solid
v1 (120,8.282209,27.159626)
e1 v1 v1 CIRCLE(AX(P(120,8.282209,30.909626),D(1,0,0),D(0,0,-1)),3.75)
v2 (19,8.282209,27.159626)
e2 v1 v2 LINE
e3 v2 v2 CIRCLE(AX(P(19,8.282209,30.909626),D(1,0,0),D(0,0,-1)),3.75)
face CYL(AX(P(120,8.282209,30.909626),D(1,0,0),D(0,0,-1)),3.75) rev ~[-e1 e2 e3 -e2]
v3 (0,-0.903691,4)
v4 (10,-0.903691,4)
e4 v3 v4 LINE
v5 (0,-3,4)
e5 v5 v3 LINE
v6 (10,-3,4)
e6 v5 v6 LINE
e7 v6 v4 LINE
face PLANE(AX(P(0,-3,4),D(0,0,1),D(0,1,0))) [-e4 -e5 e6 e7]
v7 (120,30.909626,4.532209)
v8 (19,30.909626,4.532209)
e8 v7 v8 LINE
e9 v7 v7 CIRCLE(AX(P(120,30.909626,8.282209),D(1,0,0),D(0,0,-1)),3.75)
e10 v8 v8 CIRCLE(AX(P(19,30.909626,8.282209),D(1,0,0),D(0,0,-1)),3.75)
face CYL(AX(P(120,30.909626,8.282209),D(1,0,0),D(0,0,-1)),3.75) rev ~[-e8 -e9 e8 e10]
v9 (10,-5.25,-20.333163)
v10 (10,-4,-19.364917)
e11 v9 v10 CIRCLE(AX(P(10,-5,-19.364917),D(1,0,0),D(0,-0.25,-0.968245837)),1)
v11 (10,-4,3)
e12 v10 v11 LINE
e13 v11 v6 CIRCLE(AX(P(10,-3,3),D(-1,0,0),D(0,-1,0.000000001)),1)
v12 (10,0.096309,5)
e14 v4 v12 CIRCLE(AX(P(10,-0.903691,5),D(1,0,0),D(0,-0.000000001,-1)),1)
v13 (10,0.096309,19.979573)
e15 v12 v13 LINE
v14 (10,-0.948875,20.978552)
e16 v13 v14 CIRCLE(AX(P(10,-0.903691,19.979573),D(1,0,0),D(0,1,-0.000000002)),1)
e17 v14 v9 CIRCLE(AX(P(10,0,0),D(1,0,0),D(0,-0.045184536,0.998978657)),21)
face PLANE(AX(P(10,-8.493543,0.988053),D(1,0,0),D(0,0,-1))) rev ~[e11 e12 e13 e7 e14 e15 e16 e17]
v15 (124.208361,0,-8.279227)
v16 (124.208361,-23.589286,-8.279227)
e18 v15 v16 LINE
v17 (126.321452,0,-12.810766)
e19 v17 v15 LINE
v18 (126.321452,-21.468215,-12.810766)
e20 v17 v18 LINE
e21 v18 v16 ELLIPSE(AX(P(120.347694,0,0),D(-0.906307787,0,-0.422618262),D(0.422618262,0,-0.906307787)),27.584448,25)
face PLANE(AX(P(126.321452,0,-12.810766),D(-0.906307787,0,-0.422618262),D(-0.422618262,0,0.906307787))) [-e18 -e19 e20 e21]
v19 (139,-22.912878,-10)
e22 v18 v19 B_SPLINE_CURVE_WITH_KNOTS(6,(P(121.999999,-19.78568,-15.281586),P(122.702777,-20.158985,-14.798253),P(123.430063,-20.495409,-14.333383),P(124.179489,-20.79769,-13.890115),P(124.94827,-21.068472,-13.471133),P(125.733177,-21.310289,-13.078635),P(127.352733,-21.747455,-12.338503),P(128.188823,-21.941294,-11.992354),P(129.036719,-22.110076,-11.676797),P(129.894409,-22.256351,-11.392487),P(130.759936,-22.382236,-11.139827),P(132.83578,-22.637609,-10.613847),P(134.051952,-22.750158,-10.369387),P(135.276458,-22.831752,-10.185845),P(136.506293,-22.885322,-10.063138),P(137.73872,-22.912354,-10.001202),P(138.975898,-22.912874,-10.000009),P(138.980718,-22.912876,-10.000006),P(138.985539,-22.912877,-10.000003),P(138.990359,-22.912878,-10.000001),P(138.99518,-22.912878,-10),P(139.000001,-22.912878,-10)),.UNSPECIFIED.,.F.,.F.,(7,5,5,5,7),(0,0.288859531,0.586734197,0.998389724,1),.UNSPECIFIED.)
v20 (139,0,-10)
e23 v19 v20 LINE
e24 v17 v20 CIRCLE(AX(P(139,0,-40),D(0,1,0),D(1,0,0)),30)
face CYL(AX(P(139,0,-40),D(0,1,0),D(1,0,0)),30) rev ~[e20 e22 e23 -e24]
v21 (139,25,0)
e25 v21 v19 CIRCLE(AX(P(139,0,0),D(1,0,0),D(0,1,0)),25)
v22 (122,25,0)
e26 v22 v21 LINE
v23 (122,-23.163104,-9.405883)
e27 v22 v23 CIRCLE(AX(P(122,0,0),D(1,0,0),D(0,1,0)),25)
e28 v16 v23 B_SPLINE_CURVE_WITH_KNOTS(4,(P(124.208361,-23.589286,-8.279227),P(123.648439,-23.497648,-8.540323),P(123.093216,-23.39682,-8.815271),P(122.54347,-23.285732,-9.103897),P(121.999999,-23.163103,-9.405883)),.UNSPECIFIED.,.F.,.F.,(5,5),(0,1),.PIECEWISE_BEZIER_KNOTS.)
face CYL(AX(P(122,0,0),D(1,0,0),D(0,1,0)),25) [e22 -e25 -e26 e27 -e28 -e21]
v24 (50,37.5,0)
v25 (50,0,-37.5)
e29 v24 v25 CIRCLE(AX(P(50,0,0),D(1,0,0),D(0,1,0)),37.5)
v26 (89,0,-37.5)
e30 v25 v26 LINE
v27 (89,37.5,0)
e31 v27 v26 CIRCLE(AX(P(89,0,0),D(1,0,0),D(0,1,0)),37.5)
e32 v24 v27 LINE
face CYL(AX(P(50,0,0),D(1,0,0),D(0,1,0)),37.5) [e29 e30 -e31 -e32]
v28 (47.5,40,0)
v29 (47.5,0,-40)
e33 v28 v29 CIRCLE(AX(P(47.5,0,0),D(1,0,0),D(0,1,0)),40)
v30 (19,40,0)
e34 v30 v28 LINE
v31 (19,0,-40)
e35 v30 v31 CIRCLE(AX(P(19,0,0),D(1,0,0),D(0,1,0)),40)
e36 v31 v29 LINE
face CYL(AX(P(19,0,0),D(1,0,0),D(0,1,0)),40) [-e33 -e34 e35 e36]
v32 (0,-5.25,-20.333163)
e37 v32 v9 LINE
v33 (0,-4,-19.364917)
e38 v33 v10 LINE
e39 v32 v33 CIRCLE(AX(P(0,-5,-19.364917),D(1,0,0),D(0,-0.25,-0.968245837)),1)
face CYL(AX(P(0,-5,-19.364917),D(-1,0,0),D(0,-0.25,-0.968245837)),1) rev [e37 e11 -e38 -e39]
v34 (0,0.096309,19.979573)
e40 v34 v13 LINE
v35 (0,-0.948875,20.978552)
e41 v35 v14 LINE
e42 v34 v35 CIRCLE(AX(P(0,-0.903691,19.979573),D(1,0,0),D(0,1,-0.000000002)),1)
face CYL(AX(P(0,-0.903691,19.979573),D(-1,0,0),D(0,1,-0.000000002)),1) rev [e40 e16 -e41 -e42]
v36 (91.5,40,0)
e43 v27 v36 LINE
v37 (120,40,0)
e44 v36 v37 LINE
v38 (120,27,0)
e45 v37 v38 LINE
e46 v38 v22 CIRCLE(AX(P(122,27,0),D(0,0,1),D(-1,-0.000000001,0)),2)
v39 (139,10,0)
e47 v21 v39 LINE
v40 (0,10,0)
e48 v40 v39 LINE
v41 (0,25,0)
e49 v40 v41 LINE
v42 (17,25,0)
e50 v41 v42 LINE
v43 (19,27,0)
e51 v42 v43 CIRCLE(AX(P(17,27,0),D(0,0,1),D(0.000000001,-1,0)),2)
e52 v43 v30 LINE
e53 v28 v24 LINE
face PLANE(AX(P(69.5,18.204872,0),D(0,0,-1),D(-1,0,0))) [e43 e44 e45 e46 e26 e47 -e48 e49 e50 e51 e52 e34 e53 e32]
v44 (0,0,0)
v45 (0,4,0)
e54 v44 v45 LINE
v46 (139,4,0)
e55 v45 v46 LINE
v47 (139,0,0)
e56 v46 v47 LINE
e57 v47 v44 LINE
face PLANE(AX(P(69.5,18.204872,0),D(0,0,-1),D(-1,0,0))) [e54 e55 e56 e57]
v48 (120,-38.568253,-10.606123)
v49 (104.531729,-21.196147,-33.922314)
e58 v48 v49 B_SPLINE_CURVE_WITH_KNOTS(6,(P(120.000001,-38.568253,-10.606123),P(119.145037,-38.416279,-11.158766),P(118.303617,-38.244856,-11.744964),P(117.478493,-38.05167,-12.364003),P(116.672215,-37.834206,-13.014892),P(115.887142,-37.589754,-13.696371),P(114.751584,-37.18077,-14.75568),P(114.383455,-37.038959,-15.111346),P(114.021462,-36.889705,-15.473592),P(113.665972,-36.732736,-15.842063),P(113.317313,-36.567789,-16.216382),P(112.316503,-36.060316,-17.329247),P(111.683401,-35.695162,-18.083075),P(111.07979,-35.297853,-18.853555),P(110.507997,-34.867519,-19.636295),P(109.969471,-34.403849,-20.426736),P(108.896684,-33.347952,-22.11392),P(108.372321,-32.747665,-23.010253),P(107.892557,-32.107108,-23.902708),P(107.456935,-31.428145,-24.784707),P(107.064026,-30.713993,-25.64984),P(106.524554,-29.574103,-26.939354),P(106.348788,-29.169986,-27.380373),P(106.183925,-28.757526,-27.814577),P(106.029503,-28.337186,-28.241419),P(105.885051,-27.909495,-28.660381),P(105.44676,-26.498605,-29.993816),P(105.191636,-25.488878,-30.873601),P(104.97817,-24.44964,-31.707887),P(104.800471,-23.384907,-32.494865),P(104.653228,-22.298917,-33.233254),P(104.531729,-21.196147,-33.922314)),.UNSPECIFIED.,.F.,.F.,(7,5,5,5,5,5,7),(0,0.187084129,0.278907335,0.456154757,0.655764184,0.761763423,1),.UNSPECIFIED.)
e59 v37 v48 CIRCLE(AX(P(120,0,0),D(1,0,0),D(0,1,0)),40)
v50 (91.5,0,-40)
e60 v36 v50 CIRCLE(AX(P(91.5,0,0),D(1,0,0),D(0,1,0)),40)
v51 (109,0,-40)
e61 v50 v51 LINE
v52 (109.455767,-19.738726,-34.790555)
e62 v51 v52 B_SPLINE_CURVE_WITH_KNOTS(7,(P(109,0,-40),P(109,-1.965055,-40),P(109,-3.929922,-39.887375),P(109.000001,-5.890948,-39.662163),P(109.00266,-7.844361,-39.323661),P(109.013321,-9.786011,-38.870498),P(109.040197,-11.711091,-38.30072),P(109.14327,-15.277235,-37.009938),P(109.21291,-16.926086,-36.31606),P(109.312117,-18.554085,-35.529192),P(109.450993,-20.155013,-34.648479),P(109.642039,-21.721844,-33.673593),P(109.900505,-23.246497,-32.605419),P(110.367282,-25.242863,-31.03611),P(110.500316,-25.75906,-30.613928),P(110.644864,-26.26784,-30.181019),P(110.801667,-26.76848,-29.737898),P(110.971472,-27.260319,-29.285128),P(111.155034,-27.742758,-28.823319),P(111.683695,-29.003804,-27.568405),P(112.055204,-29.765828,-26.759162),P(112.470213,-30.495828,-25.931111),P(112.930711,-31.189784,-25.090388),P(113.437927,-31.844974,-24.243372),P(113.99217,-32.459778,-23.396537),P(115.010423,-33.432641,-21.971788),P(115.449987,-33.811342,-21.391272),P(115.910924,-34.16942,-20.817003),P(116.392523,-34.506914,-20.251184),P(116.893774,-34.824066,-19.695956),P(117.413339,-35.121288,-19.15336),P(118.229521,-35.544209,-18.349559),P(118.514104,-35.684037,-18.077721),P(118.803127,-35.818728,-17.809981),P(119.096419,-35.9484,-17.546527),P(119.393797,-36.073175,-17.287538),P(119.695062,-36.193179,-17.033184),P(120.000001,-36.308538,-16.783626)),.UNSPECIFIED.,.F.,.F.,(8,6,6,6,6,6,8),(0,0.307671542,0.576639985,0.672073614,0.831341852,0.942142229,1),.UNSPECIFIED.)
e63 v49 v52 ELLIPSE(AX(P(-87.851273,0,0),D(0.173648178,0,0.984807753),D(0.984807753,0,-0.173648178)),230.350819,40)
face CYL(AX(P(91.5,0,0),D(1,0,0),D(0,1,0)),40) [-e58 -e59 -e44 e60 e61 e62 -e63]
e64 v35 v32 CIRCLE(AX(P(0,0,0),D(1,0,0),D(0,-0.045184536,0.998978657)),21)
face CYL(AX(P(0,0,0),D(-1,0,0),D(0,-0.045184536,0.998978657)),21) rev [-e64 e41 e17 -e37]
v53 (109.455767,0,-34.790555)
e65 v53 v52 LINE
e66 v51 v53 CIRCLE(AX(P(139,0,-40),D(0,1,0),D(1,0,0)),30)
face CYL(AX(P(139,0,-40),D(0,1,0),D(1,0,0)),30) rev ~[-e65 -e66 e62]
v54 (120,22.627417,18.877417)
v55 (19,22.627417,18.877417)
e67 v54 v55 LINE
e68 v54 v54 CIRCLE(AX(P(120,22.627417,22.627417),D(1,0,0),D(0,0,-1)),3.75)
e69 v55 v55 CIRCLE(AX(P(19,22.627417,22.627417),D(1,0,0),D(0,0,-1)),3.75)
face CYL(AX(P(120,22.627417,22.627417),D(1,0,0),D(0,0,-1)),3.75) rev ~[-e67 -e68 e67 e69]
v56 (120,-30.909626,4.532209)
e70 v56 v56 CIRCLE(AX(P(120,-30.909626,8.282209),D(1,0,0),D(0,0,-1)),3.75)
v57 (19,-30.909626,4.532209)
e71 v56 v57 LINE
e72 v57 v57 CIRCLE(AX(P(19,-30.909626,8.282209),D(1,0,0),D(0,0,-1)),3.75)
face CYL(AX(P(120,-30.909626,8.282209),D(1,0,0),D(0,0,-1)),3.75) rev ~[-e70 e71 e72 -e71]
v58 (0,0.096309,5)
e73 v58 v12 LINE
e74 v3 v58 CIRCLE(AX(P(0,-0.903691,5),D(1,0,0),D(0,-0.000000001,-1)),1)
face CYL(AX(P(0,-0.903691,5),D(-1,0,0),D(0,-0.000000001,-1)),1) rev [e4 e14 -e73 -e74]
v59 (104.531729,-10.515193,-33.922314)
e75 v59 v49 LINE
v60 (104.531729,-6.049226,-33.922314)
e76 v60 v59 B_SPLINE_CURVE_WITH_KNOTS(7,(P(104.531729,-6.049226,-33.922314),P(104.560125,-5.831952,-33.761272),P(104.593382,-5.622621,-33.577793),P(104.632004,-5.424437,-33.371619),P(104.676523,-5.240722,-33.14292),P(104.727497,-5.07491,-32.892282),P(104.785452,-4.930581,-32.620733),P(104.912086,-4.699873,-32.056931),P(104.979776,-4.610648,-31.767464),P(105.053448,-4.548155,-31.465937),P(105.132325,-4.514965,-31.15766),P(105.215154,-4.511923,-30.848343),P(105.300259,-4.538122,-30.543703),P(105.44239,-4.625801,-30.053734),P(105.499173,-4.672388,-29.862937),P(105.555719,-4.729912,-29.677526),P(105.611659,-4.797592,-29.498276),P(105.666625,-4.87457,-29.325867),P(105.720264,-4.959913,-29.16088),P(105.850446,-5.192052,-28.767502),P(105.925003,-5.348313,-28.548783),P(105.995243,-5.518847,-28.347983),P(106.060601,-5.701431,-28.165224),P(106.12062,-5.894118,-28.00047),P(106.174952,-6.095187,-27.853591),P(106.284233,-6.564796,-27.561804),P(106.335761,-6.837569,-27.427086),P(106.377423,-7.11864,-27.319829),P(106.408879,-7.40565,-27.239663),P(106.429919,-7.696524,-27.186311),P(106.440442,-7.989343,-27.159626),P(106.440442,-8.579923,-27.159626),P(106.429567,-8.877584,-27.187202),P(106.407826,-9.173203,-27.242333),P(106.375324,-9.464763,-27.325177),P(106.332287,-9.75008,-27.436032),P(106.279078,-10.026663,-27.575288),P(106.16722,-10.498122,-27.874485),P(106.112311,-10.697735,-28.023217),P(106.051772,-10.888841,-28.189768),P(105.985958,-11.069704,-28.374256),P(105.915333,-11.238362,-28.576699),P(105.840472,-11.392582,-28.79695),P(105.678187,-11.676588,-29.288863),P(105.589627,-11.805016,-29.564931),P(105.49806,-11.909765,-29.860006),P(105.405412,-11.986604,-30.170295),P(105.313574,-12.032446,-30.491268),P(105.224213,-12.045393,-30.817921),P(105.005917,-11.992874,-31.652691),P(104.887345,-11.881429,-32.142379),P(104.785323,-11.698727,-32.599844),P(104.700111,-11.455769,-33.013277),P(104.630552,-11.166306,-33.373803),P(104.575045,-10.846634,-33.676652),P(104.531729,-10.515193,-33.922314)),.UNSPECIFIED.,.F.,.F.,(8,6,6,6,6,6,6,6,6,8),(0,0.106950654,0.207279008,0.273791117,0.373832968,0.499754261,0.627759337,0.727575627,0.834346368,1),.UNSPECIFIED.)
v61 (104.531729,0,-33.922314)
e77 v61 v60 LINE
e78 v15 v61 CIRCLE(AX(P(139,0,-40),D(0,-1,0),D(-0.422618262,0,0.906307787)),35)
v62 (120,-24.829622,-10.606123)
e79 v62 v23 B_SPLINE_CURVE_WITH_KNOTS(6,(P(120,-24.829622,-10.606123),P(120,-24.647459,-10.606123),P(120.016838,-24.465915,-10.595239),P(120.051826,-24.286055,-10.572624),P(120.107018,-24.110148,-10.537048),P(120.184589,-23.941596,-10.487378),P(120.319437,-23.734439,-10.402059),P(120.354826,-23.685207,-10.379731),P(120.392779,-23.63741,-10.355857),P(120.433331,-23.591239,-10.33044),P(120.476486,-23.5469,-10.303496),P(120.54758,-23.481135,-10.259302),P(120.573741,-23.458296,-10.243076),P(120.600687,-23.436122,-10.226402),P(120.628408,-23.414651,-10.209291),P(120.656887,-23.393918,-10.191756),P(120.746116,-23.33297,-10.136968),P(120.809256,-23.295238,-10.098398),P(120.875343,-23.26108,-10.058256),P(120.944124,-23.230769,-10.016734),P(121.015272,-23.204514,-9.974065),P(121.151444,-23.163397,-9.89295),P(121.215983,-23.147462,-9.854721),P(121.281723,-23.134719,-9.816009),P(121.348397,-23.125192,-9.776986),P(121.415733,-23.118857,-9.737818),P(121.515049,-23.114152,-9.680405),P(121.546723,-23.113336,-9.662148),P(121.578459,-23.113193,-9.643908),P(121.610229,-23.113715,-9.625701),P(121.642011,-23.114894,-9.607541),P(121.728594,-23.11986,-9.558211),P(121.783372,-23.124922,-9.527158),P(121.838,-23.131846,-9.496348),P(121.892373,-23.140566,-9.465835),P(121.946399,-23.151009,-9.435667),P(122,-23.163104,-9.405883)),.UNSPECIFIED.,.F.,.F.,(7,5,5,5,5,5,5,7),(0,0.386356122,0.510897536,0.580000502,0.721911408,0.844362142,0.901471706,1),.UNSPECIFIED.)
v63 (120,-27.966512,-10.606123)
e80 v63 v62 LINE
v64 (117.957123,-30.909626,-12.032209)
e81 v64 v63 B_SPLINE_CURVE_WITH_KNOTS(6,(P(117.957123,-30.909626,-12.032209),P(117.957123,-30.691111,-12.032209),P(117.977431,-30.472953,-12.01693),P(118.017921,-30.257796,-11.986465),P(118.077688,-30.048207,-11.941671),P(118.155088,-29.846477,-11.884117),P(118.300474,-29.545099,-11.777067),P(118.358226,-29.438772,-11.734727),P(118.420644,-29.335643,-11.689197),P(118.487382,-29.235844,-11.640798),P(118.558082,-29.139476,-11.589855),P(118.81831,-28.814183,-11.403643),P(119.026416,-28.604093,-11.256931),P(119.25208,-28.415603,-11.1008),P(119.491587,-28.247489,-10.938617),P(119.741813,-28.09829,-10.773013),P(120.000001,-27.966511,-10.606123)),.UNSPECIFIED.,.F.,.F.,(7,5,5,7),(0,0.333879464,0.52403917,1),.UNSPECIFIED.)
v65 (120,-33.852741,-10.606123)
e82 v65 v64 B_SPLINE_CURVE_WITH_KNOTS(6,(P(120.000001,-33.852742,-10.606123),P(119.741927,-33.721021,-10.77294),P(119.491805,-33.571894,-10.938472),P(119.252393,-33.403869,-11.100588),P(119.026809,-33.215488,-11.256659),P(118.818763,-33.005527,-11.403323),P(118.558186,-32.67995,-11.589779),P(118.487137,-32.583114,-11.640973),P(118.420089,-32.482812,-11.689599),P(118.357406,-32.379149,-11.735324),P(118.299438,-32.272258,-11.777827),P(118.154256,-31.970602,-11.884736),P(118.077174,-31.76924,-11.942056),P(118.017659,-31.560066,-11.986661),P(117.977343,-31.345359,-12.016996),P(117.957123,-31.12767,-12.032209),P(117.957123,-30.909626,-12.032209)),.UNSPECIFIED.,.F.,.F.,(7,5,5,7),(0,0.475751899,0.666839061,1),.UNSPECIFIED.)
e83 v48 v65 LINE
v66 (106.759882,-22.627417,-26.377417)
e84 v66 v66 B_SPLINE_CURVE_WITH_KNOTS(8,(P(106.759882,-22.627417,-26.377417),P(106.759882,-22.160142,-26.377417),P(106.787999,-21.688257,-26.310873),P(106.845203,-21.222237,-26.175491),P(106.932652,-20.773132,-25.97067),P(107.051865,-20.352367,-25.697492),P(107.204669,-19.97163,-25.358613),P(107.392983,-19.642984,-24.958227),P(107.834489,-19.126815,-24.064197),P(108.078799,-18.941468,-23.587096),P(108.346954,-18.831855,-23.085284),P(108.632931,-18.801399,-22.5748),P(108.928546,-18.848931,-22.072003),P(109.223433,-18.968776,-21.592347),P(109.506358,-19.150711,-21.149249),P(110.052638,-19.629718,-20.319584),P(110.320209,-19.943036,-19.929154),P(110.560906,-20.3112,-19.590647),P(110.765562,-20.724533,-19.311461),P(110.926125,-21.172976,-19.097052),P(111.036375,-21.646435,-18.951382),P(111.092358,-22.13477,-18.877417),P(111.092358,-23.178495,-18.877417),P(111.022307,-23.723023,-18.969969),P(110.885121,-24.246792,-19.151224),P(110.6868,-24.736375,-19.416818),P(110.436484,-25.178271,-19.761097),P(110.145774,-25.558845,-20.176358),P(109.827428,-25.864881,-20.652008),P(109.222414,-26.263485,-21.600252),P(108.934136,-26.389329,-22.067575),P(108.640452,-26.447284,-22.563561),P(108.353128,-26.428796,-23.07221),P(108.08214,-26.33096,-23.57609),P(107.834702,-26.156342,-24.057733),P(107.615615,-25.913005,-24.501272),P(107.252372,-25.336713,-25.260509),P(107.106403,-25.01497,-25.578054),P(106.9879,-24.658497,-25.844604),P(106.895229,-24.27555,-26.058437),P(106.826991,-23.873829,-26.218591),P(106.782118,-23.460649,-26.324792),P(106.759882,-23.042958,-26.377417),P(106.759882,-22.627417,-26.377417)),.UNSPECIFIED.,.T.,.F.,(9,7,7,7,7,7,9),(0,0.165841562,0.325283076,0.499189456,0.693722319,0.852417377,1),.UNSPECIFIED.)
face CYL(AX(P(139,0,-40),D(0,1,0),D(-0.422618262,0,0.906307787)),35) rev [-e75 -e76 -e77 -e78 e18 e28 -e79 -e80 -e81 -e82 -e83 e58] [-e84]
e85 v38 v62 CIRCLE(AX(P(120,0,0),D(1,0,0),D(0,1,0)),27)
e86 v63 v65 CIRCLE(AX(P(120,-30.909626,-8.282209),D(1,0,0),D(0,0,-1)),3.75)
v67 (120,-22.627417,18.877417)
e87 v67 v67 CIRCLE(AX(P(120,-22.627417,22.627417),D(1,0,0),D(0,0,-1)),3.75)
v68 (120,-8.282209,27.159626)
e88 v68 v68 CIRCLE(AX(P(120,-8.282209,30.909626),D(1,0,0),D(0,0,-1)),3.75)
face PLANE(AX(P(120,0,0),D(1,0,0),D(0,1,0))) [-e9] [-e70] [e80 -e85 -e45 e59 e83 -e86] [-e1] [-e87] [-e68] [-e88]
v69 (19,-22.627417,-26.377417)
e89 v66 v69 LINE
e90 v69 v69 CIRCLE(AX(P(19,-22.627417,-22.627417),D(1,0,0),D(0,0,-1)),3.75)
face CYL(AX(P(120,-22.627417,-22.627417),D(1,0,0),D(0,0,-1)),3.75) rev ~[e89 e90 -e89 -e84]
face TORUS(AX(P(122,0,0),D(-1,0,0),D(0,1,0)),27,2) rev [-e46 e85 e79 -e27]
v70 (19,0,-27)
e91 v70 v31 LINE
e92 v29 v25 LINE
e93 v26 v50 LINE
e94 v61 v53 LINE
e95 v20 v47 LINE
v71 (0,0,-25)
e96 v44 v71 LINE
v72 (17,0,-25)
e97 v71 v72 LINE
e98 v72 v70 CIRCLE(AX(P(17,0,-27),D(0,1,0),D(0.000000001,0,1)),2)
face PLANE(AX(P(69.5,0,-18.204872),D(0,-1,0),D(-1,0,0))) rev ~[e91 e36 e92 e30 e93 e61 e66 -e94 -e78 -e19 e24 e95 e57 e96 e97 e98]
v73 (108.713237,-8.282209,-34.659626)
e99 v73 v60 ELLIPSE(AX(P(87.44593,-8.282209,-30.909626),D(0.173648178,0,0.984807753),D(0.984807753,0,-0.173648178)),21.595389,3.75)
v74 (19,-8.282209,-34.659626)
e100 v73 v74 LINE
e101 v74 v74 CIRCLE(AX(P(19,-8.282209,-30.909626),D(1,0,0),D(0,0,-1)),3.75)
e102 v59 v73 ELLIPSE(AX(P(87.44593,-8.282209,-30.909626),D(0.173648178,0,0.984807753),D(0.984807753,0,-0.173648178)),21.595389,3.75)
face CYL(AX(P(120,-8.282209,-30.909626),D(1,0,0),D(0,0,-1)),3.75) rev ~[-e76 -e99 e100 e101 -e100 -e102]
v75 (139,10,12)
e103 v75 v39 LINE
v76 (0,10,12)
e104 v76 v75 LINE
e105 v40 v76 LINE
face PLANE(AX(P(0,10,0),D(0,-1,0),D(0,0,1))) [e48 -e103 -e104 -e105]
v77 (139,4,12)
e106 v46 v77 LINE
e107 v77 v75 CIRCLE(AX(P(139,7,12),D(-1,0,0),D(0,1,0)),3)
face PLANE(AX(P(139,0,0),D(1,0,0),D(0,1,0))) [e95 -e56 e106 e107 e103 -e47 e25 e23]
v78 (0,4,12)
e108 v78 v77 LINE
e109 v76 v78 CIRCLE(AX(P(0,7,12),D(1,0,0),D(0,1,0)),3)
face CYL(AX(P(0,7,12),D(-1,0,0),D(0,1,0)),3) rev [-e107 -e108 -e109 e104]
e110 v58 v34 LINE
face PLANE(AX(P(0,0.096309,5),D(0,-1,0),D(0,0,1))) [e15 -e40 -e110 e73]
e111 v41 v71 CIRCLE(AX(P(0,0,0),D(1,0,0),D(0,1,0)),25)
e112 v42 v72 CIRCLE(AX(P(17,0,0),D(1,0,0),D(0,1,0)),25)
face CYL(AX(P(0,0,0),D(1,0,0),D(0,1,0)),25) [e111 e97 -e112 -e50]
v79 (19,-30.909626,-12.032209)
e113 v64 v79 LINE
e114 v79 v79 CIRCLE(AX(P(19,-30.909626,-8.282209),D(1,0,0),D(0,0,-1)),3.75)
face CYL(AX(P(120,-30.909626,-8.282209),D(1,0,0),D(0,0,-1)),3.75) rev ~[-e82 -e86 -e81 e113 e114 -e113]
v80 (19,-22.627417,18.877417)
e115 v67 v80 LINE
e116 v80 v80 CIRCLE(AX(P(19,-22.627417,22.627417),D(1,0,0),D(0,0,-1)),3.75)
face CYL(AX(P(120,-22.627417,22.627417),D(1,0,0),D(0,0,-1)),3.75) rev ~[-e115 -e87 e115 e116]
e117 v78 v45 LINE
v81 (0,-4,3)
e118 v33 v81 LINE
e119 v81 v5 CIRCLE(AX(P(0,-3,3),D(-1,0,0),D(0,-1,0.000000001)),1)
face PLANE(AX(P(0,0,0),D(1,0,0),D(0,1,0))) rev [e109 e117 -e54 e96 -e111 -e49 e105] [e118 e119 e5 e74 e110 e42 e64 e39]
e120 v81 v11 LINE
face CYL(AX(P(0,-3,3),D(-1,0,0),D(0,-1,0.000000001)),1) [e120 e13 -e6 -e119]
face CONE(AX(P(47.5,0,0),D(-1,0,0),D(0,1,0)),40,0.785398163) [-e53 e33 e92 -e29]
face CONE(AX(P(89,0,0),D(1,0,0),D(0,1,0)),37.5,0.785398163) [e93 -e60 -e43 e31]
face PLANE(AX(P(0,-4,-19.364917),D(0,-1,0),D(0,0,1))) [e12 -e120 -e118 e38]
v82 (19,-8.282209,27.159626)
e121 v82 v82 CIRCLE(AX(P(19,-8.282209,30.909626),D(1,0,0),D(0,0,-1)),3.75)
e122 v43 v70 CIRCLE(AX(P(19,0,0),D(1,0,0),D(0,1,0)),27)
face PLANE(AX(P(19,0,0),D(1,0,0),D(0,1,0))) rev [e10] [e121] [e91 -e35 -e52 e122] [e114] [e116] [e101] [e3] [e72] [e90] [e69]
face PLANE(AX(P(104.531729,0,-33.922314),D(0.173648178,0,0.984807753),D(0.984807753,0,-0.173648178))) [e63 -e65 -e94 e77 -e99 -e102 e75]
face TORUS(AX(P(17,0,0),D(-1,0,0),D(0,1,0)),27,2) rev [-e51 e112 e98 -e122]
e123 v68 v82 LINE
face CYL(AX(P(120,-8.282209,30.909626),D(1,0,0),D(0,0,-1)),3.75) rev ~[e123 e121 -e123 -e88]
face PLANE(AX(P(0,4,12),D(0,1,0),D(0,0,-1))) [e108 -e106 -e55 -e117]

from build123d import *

# Parameters (mm, degrees)
REVOLVE1_ANGLE     = 270
CUT_EXTRUDE1_DEPTH = 151.069983674
SKETCH3_R          = 3.75
CUT_EXTRUDE2_DEPTH = 133.664991614
SKETCH5_R          = 30
CUT_EXTRUDE3_DEPTH = 151.069983674
CUT_EXTRUDE4_DEPTH = 151.06998382
CUT_EXTRUDE5_DEPTH = 10


with BuildPart() as part:
    # Sketch1 → Revolve1 (revolve)
    with BuildSketch(Plane.XY):
        with BuildLine():
            Line((47.5, 40), (50, 37.5))
            Line((50, 37.5), (89, 37.5))
            Line((89, 37.5), (91.5, 40))
            Line((91.5, 40), (120, 40))
            Line((120, 40), (120, 27))
            ThreePointArc((120, 27), (120.585786438, 25.585786438), (122, 25))
            Line((122, 25), (139, 25))
            Line((139, 25), (139, 0))
            Line((139, 0), (0, 0))
            Line((0, 0), (0, 25))
            Line((0, 25), (17, 25))
            ThreePointArc((17, 25), (18.414213562, 25.585786438), (19, 27))
            Line((19, 27), (19, 40))
            Line((19, 40), (47.5, 40))
        make_face()
    revolve(axis=Axis((0, 0, 0), (1, 0, 0)), revolution_arc=REVOLVE1_ANGLE)

    # Sketch2 → Cut-Extrude1 (cut, through all)
    with BuildSketch(Plane.ZY):
        with BuildLine():
            Line((0, 10), (12, 10))
            ThreePointArc((12, 10), (15, 7), (12, 4))
            Line((12, 4), (0, 4))
            ThreePointArc((0, 4), (-3, 7), (0, 10))
        make_face()
    extrude(amount=-CUT_EXTRUDE1_DEPTH, mode=Mode.SUBTRACT)

    # Sketch3 → Cut-Extrude2 (cut, through all)
    with BuildSketch(Plane(origin=(120, 0, 0), x_dir=(0, 0, -1), z_dir=(1, 0, 0))):
        with Locations((-8.282209443, 30.909626441)):
            Circle(SKETCH3_R)
        with Locations((30.909626441, -8.282209443)):
            Circle(SKETCH3_R)
        with Locations((22.627416998, -22.627416998)):
            Circle(SKETCH3_R)
        with Locations((8.282209443, -30.909626441)):
            Circle(SKETCH3_R)
        with Locations((-8.282209443, -30.909626441)):
            Circle(SKETCH3_R)
        with Locations((-22.627416998, -22.627416998)):
            Circle(SKETCH3_R)
        with Locations((-30.909626441, -8.282209443)):
            Circle(SKETCH3_R)
        with Locations((-30.909626441, 8.282209443)):
            Circle(SKETCH3_R)
        with Locations((-22.627416998, 22.627416998)):
            Circle(SKETCH3_R)
    extrude(amount=-CUT_EXTRUDE2_DEPTH, mode=Mode.SUBTRACT)

    # Sketch5 → Cut-Extrude3 (cut, through all)
    with BuildSketch(Plane(origin=(0, 0, 0), x_dir=(1, 0, 0), z_dir=(0, 1, 0))):
        with Locations((139, 40)):
            Circle(SKETCH5_R)
    extrude(amount=-CUT_EXTRUDE3_DEPTH, mode=Mode.SUBTRACT)

    # Sketch6 → Cut-Extrude4 (cut, through all)
    with BuildSketch(Plane(origin=(0, 0, 0), x_dir=(1, 0, 0), z_dir=(0, 1, 0))):
        with BuildLine():
            Line((104.531728645, 33.922313782), (109.45576741, 34.79055467))
            ThreePointArc((109.45576741, 34.79055467), (115.199399791, 21.73715713), (126.321452148, 12.810766389))
            Line((126.321452148, 12.810766389), (124.208360839, 8.279227454))
            ThreePointArc((124.208360839, 8.279227454), (111.23263309, 18.693349985), (104.531728645, 33.922313782))
        make_face()
    extrude(amount=-CUT_EXTRUDE4_DEPTH, mode=Mode.SUBTRACT)

    # Sketch8 → Cut-Extrude5 (cut)
    with BuildSketch(Plane.ZY):
        with BuildLine():
            Line((-19.364916731, -4), (-0.400463796, -4))
            Line((-0.400463796, -4), (3, -4))
            ThreePointArc((3, -4), (3.707106781, -3.707106781), (4, -3))
            Line((4, -3), (4, -0.903690713))
            ThreePointArc((4, -0.903690713), (4.292893219, -0.196583931), (5, 0.096309287))
            Line((5, 0.096309287), (19.979573146, 0.096309287))
            ThreePointArc((19.979573146, 0.096309287), (20.702478581, -0.21274373), (20.978551803, -0.948875248))
            ThreePointArc((20.978551803, -0.948875248), (2.174637981, -20.887100078), (-20.333162568, -5.25))
            ThreePointArc((-20.333162568, -5.25), (-20.155486146, -4.387627564), (-19.364916731, -4))
        make_face()
    extrude(amount=-CUT_EXTRUDE5_DEPTH, mode=Mode.SUBTRACT)


solid = part.part
